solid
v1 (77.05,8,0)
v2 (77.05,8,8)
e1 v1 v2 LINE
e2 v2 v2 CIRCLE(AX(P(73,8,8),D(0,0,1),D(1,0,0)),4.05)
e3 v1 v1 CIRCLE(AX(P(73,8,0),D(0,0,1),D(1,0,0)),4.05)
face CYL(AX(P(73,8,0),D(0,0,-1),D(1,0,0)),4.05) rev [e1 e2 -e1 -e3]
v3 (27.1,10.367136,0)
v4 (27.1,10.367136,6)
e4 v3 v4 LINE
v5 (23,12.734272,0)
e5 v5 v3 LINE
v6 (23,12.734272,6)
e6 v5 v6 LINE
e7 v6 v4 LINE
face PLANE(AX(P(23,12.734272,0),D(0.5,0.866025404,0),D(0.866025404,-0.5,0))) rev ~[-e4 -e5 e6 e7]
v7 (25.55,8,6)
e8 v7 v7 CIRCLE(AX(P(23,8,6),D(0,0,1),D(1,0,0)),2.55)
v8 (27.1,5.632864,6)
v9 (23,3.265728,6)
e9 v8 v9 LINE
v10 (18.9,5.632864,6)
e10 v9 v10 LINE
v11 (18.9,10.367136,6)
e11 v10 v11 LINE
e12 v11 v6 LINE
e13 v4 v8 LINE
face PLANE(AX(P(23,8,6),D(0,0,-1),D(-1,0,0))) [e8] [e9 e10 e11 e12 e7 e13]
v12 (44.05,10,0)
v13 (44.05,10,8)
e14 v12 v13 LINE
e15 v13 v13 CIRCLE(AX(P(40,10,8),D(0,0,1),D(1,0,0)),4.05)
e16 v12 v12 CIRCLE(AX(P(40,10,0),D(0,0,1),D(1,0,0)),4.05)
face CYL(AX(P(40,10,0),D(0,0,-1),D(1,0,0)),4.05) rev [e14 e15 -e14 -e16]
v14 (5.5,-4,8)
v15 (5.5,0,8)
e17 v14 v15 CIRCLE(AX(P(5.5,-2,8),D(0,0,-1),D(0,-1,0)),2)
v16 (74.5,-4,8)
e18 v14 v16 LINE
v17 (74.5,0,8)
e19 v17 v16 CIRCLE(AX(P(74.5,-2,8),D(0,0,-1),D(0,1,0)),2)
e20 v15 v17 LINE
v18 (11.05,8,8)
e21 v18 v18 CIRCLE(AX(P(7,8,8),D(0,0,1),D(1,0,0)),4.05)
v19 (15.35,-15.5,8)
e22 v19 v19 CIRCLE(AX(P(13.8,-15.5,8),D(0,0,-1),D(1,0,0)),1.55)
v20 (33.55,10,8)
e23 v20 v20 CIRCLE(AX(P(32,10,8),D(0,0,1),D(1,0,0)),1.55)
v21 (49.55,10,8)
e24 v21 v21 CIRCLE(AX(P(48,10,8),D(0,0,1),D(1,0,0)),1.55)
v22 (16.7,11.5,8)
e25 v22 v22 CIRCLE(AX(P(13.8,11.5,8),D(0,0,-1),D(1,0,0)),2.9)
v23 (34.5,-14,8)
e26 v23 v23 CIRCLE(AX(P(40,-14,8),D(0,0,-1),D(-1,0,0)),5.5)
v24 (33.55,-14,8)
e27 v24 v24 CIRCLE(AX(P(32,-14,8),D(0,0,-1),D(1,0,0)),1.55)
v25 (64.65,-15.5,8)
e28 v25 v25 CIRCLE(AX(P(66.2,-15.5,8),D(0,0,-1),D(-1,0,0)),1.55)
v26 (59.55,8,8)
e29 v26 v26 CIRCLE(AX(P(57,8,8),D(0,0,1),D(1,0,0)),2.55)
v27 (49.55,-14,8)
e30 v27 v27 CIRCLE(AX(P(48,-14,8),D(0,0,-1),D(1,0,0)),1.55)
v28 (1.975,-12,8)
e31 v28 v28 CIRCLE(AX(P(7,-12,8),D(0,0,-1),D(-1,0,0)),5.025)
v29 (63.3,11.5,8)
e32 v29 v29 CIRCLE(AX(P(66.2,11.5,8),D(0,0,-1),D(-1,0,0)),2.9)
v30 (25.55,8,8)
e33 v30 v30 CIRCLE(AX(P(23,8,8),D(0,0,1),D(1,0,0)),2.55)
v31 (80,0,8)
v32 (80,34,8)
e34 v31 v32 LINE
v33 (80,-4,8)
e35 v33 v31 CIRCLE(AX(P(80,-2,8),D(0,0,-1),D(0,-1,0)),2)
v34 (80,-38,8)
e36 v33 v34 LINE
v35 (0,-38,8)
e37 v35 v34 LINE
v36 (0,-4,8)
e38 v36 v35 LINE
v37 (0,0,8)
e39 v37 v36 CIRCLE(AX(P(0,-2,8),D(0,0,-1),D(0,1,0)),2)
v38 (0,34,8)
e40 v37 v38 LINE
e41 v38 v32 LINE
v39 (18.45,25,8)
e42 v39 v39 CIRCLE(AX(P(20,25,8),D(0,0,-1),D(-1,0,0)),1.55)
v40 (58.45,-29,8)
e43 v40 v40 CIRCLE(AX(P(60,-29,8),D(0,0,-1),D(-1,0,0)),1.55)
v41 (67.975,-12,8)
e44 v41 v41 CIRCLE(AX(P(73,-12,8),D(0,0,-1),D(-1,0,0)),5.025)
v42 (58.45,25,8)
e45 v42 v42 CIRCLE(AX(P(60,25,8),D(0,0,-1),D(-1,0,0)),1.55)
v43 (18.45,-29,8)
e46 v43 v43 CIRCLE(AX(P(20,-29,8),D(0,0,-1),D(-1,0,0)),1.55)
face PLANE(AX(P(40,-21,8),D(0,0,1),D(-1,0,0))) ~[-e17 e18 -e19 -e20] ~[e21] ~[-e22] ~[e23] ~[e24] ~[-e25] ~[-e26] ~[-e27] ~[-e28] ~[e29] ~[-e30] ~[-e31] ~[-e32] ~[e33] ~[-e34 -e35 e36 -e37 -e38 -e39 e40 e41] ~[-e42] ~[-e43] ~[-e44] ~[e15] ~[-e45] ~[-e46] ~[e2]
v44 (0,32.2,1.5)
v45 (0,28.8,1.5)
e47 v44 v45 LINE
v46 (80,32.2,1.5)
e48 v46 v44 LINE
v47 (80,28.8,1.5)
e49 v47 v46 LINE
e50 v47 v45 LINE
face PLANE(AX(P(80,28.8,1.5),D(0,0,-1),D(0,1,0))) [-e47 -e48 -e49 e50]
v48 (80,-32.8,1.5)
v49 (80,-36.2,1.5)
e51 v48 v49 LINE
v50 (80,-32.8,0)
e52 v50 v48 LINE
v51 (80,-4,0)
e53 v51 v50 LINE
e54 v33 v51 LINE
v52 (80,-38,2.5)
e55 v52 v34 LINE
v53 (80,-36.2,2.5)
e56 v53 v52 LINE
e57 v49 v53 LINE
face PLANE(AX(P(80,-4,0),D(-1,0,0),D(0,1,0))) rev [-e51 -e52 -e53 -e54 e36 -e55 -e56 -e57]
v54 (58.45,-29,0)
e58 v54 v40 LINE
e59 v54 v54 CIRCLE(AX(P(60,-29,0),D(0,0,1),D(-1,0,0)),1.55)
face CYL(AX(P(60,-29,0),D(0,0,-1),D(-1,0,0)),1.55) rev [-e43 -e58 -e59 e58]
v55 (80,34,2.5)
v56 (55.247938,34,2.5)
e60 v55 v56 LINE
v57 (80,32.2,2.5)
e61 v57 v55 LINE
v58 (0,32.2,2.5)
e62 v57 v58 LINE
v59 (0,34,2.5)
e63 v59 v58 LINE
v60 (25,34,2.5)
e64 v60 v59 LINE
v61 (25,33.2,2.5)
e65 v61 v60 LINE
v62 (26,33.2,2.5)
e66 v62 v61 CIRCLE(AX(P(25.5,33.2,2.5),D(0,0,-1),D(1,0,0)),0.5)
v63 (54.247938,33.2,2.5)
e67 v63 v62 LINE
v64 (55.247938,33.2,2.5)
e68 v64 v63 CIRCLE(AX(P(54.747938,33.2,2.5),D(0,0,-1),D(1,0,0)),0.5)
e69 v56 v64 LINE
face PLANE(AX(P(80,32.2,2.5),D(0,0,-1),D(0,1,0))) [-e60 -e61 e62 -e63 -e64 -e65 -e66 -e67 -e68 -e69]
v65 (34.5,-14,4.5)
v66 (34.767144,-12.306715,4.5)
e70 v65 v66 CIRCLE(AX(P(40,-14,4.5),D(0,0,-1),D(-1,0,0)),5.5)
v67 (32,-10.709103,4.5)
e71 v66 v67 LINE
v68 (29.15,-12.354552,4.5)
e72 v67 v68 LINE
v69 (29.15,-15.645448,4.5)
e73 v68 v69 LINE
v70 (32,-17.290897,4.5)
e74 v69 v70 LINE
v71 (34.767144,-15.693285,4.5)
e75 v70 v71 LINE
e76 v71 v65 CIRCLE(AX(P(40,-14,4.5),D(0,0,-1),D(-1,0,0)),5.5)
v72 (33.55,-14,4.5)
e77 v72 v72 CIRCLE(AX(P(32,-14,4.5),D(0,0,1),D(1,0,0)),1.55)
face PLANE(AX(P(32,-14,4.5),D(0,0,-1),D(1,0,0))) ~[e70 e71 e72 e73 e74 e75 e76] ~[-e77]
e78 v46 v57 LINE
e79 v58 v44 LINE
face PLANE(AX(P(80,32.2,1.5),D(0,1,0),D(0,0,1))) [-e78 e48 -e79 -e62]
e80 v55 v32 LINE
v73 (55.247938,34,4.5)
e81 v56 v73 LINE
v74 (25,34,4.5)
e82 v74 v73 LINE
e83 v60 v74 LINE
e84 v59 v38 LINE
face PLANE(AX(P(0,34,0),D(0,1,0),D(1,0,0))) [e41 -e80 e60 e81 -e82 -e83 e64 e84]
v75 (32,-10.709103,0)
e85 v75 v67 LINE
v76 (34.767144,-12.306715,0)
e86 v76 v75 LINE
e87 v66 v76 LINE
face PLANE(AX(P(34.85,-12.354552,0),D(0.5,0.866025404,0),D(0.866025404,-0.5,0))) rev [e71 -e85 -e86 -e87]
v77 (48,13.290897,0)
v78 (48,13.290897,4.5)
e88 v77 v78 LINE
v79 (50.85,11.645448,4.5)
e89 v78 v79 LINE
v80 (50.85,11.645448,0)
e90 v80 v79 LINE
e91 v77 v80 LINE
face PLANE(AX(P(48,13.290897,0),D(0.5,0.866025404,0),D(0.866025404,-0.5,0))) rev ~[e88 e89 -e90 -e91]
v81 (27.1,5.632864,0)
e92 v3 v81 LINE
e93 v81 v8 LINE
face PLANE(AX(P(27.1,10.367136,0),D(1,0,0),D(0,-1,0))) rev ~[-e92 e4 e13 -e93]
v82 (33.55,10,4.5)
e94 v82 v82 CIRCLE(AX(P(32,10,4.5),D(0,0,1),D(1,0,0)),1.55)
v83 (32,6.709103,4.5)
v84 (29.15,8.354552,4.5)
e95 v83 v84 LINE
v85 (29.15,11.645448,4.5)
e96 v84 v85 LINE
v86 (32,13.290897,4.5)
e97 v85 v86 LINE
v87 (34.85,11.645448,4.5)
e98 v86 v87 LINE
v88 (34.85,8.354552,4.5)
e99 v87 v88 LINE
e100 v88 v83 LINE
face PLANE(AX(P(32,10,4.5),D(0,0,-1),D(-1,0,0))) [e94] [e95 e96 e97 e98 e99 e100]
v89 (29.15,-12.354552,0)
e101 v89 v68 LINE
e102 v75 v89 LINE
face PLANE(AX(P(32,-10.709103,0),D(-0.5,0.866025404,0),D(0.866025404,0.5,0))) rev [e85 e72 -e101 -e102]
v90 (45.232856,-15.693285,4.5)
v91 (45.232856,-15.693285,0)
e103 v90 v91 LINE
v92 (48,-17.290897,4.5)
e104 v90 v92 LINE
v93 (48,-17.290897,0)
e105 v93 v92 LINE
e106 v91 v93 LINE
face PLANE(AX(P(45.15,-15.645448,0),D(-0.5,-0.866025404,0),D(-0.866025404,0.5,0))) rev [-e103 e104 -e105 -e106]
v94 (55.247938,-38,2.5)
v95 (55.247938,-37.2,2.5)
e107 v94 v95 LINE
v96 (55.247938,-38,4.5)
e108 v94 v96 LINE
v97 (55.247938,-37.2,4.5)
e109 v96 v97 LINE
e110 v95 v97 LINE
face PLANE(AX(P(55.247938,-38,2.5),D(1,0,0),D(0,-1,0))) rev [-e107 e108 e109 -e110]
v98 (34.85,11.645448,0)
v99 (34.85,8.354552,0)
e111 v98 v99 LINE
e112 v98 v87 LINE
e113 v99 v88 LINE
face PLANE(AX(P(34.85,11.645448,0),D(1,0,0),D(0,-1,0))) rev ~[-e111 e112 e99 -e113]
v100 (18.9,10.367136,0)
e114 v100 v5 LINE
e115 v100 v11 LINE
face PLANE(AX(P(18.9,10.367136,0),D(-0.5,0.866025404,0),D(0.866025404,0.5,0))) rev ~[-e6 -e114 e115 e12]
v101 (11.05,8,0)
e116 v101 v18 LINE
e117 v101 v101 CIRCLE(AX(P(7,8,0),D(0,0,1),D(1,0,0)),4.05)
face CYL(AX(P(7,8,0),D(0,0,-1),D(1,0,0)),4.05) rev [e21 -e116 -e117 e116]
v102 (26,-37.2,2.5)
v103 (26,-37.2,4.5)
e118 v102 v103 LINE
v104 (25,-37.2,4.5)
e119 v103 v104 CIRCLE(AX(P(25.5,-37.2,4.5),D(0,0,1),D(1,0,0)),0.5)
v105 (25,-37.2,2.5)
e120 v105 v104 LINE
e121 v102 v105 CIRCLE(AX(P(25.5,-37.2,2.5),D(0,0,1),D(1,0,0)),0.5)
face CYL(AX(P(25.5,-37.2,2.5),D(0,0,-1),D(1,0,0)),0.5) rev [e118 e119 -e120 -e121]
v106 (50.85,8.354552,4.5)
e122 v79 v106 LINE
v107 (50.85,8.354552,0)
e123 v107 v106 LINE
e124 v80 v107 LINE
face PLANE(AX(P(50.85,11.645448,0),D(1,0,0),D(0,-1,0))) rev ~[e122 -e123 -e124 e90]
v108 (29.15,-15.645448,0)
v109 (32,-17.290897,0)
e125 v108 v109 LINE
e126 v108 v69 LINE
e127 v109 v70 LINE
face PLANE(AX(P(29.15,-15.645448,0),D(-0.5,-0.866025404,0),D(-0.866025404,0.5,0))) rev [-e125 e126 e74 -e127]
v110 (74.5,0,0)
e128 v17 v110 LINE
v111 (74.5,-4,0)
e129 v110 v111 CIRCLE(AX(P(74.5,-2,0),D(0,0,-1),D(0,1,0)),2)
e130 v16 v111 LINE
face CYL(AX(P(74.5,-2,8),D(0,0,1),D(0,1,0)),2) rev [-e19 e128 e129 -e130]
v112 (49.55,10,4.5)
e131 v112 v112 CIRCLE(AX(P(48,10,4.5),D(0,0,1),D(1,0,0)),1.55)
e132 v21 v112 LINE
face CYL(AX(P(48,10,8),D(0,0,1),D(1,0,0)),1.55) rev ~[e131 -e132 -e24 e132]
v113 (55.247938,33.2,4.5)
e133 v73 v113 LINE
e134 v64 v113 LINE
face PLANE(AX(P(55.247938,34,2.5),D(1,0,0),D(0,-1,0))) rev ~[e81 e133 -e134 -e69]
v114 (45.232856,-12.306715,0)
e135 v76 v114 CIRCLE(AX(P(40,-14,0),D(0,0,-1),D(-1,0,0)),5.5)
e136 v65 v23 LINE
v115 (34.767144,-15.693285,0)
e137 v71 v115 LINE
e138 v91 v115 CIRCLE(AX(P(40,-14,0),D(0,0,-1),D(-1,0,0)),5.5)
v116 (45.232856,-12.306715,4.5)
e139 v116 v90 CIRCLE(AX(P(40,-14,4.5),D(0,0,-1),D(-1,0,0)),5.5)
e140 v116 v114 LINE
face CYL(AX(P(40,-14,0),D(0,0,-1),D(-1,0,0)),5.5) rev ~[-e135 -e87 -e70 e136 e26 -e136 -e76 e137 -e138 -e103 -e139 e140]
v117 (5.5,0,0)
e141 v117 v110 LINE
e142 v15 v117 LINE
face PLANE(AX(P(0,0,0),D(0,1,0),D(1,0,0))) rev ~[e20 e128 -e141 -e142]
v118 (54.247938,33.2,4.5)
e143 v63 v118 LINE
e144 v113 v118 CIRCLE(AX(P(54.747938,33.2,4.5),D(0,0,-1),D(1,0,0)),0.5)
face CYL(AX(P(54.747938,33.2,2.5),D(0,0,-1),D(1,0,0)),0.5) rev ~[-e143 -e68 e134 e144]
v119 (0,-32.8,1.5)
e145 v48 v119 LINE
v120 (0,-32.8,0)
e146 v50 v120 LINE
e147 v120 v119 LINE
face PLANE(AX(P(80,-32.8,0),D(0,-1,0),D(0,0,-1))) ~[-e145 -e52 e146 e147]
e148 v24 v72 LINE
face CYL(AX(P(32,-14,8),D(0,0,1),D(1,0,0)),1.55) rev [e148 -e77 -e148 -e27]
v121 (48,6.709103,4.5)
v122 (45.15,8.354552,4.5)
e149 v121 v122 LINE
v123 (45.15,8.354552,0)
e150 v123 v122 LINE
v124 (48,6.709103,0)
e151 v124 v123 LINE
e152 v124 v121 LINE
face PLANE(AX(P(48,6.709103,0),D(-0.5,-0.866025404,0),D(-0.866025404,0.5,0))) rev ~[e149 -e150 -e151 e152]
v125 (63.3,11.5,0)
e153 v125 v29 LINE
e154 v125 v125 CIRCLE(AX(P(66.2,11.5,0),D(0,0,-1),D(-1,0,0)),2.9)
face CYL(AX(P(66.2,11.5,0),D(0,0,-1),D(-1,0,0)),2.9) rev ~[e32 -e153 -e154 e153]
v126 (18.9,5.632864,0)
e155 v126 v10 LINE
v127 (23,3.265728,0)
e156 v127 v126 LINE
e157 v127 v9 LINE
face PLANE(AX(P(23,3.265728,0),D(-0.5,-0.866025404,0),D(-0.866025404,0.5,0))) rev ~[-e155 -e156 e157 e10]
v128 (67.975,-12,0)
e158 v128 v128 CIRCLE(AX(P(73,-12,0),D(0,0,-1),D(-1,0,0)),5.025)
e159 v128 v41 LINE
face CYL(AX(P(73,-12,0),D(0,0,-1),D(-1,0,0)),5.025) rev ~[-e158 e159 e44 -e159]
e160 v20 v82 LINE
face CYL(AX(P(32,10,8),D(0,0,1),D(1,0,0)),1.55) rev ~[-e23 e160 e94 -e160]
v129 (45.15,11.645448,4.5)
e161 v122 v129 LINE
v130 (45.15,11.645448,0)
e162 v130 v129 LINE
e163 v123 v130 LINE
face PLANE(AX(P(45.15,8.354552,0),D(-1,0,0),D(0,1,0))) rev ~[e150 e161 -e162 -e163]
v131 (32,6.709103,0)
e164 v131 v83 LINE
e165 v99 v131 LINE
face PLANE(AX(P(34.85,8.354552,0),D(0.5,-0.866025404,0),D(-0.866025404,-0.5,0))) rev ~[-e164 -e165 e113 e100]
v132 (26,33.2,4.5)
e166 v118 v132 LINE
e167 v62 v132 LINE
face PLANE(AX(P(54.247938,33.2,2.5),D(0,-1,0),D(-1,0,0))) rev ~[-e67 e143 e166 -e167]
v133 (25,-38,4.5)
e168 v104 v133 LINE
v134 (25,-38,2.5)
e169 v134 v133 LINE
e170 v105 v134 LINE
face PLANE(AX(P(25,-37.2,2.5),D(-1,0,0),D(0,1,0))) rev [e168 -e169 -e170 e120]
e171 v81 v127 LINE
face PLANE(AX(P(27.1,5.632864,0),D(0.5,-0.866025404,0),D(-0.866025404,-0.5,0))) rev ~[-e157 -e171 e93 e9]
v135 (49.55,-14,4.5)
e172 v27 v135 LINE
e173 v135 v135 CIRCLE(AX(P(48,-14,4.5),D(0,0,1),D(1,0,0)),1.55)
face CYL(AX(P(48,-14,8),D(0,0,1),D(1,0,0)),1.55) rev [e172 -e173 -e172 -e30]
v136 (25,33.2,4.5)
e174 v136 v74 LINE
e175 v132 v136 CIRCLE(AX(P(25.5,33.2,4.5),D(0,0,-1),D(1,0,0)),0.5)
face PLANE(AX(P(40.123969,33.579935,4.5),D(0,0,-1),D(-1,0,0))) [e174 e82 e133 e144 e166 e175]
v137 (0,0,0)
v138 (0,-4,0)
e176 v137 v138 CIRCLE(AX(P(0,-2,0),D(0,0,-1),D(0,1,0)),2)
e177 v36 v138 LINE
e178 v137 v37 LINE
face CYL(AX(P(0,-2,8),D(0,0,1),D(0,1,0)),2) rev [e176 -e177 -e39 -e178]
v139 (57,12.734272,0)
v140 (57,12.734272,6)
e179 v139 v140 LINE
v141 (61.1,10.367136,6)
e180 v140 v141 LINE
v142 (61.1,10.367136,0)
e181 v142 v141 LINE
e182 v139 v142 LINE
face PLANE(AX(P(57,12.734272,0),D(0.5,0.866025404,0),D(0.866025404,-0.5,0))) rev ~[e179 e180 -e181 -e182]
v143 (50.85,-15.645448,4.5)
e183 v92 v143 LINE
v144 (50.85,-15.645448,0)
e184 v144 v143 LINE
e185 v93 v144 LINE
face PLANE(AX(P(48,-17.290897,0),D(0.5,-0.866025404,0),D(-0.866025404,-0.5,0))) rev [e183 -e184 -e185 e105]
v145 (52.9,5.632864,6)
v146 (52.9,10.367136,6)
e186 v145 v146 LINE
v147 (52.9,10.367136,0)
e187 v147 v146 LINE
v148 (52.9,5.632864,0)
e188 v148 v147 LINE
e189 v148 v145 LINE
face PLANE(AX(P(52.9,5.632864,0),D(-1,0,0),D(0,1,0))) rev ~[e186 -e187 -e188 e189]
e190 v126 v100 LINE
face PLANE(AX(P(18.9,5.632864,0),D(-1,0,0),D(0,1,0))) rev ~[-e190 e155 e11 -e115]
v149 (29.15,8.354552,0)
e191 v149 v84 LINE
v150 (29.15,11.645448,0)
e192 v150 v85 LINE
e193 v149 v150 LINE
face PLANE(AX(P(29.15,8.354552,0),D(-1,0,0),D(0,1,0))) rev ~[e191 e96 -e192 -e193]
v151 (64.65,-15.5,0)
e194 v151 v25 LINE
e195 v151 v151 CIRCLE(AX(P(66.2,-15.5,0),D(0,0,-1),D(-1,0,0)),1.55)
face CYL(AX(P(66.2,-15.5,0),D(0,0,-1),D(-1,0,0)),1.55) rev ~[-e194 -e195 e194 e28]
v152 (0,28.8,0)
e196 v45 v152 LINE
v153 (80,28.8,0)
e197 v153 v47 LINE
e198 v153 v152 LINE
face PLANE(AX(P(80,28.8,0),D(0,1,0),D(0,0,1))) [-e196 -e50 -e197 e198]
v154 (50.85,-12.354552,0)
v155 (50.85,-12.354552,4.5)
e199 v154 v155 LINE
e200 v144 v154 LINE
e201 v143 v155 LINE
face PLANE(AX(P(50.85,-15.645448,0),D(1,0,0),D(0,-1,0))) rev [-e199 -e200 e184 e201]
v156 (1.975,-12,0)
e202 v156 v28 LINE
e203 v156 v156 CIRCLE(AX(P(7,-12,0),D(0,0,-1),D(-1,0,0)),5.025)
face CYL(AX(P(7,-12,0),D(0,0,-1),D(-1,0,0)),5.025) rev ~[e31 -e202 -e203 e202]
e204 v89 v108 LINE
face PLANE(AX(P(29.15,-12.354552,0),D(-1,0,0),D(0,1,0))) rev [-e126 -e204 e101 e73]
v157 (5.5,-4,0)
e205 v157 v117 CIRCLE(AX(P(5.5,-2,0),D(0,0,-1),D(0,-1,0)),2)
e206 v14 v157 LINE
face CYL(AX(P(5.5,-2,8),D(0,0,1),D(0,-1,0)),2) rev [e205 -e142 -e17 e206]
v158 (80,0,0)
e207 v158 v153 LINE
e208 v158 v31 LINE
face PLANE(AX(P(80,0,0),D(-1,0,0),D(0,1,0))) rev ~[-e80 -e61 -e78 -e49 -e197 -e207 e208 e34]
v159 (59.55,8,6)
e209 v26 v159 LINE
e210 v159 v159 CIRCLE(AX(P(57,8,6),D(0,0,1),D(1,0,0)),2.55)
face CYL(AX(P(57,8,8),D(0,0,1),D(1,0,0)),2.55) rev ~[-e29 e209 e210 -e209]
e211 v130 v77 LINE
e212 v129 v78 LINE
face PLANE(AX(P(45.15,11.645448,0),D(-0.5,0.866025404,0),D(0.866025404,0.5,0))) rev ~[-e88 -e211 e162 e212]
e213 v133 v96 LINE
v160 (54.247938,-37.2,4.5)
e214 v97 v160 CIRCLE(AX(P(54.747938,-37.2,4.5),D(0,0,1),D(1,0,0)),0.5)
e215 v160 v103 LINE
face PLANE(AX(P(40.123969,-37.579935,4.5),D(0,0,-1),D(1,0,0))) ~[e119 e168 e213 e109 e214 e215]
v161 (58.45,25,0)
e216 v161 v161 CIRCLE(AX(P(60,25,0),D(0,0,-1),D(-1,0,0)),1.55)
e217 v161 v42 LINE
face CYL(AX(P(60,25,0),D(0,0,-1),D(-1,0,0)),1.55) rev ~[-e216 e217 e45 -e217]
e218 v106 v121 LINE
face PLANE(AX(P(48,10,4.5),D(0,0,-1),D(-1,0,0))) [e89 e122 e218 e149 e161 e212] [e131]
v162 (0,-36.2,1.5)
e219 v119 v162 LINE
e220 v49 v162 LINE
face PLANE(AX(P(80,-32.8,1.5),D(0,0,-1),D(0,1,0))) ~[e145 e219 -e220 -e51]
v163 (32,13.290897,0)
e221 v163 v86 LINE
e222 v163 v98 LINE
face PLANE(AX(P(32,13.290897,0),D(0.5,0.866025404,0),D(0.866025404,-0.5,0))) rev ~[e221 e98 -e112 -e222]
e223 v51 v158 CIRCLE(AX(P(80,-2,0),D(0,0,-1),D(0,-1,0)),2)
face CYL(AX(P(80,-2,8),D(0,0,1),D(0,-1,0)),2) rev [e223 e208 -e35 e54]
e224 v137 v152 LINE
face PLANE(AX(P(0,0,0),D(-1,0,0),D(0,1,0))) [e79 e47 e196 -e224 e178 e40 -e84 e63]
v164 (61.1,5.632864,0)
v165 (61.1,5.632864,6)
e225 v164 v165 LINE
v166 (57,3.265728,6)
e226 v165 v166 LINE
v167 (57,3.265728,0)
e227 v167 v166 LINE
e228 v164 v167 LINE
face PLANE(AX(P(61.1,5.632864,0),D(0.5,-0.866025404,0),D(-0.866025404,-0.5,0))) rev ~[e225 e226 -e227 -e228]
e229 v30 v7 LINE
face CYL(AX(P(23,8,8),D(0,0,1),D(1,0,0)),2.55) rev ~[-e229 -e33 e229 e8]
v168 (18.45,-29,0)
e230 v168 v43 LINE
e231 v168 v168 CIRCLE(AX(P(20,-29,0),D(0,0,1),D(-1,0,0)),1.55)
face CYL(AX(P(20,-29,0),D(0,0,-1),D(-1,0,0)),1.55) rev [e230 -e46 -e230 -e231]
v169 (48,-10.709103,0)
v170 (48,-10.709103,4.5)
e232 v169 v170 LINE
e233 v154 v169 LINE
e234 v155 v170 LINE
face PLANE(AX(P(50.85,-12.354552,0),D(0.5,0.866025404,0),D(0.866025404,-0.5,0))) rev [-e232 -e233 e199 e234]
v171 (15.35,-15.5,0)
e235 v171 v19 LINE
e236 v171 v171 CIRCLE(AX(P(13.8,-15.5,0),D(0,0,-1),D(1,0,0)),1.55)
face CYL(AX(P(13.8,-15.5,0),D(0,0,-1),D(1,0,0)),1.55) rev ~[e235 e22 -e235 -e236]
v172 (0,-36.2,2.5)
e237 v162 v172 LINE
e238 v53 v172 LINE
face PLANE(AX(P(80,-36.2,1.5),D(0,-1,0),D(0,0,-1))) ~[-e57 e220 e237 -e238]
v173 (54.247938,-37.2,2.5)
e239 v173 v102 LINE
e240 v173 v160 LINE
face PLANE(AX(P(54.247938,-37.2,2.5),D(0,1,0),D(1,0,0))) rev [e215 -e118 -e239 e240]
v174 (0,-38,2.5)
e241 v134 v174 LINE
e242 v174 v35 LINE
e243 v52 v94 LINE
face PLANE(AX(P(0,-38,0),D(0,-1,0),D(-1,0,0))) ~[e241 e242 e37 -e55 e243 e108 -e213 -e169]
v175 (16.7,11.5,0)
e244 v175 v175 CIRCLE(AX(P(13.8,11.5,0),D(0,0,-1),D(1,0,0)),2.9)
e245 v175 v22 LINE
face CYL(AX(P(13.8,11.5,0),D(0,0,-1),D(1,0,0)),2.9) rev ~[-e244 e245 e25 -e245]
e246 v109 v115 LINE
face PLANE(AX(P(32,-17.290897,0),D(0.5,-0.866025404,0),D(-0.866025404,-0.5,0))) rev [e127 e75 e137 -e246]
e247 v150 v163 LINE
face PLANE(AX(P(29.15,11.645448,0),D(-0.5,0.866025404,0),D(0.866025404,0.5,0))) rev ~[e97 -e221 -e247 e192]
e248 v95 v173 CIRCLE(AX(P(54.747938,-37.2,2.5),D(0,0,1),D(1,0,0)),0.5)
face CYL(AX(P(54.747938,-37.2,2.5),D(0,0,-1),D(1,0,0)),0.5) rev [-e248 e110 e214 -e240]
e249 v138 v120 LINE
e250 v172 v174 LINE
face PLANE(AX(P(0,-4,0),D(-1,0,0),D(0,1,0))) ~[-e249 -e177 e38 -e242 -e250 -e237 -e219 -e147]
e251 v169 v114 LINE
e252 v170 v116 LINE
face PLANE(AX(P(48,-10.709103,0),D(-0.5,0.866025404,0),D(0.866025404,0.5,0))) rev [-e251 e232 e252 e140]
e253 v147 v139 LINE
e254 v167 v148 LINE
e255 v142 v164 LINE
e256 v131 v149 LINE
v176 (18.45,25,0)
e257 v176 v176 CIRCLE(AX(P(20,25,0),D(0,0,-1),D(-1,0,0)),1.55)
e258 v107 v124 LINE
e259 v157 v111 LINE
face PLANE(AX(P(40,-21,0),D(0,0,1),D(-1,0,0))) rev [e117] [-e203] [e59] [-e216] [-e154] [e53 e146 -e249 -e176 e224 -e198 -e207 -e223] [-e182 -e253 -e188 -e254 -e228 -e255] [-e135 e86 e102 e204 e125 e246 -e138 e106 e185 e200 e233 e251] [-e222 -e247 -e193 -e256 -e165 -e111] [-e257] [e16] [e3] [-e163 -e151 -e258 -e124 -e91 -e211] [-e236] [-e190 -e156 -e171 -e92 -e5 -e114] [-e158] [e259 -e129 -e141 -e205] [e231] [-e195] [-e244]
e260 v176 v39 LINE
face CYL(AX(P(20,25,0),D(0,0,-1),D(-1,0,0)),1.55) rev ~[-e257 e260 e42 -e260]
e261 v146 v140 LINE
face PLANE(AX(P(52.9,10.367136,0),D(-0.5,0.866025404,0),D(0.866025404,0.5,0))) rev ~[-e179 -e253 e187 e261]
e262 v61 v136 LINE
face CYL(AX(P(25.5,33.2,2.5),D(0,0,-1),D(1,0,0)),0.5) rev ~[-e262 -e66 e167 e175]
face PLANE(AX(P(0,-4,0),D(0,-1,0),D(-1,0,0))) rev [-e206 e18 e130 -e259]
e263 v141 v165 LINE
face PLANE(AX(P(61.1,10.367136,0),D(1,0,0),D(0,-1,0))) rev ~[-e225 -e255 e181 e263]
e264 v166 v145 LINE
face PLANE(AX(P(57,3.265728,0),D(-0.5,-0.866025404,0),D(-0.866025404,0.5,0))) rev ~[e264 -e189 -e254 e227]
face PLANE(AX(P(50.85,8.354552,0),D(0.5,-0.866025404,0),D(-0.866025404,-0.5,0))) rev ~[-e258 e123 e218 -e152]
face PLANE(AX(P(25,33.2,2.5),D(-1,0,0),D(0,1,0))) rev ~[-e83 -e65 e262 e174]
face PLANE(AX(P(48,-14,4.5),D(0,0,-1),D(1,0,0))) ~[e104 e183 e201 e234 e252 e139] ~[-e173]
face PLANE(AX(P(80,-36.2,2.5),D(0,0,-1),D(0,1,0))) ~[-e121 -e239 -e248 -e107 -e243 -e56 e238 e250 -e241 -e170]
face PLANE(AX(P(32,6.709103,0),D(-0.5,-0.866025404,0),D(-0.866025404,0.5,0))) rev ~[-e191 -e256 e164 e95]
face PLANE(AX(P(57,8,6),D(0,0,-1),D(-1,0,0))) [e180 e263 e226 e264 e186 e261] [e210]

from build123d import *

# Parameters (mm, degrees)
SKETCH_2_W           = 80
SKETCH_2_H           = 34
SKETCH_2_R           = 4.05
EXTRUDE_1_DEPTH      = 8
SKETCH_3_R           = 2.55
CUT_EXTRUDE_1_DEPTH  = 88.292611371
CUT_EXTRUDE_2_DEPTH  = 88.292611371
SKETCH_5_R           = 1.55
CUT_EXTRUDE_3_DEPTH  = 88.292611371
CUT_EXTRUDE_5_DEPTH  = 4.5
SKETCH_25_R          = 1.55
CUT_EXTRUDE_13_DEPTH = 88.292611371
CUT_EXTRUDE_11_DEPTH = 2
EXTRUDE_2_DEPTH      = 8
SKETCH_26_R          = 5.025
CUT_EXTRUDE_14_DEPTH = 89.926936302
SKETCH_27_R          = 2.9
SKETCH_27_R_2        = 1.55
CUT_EXTRUDE_15_DEPTH = 89.926936302
CUT_EXTRUDE_16_DEPTH = 6
SKETCH_29_R          = 5.5
CUT_EXTRUDE_17_DEPTH = 89.926936302


with BuildPart() as part:
    # 草图2 → 凸台-拉伸1 (new body)
    with BuildSketch(Plane.XY):
        with Locations((40, 17)):
            Rectangle(SKETCH_2_W, SKETCH_2_H)
        with Locations((7, 8)):
            Circle(SKETCH_2_R, mode=Mode.SUBTRACT)
        with Locations((40, 10)):
            Circle(SKETCH_2_R, mode=Mode.SUBTRACT)
        with Locations((73, 8)):
            Circle(SKETCH_2_R, mode=Mode.SUBTRACT)
    extrude_1 = extrude(amount=EXTRUDE_1_DEPTH)

    # 草图3 → 切除-拉伸1 (cut, through all)
    with BuildSketch(Plane.XY.offset(8)):
        with Locations((23, 8)):
            Circle(SKETCH_3_R)
        with Locations((57, 8)):
            Circle(SKETCH_3_R)
    extrude(amount=-CUT_EXTRUDE_1_DEPTH, mode=Mode.SUBTRACT)

    # 草图4 → 切除-拉伸2 (cut, through all)
    with BuildSketch(Plane(origin=(80, 0, 0), x_dir=(0, 0, -1), z_dir=(1, 0, 0))):
        Polygon((-1.5, 32.2), (-2.5, 32.2), (-2.5, 34), (0, 34), (0, 28.8), (-1.5, 28.8), align=None)
    cut_extrude_2 = extrude(amount=-CUT_EXTRUDE_2_DEPTH, mode=Mode.SUBTRACT)

    # 草图5 → 切除-拉伸3 (cut, through all)
    with BuildSketch(Plane.XY.offset(8)):
        with Locations((48, 10)):
            Circle(SKETCH_5_R)
        with Locations((32, 10)):
            Circle(SKETCH_5_R)
    cut_extrude_3 = extrude(amount=-CUT_EXTRUDE_3_DEPTH, mode=Mode.SUBTRACT)

    # 草图8 → 切除-拉伸5 (cut)
    with BuildSketch(Plane(origin=(0, 0, 0), x_dir=(-1, 0, 0), z_dir=(0, 0, -1))):
        Polygon((-45.15, 8.354551733), (-45.15, 11.645448267), (-48, 13.290896534), (-50.85, 11.645448267), (-50.85, 8.354551733), (-48, 6.709103466), align=None)
        Polygon((-29.15, 8.354551733), (-29.15, 11.645448267), (-32, 13.290896534), (-34.85, 11.645448267), (-34.85, 8.354551733), (-32, 6.709103466), align=None)
    cut_extrude_5 = extrude(amount=-CUT_EXTRUDE_5_DEPTH, mode=Mode.SUBTRACT)

    # 草图25 → 切除-拉伸13 (cut, through all)
    with BuildSketch(Plane(origin=(0, 0, 0), x_dir=(-1, 0, 0), z_dir=(0, 0, -1))):
        with Locations((-60, 25)):
            Circle(SKETCH_25_R)
        with Locations((-20, 25)):
            Circle(SKETCH_25_R)
    cut_extrude_13 = extrude(amount=-CUT_EXTRUDE_13_DEPTH, mode=Mode.SUBTRACT)

    # 草图19 → 切除-拉伸11 (cut)
    with BuildSketch(Plane(origin=(0, 0, 2.5), x_dir=(-1, 0, 0), z_dir=(0, 0, -1))):
        with BuildLine():
            Line((-25, 34), (-55.247938178, 34))
            Line((-55.247938178, 34), (-55.247938178, 33.2))
            ThreePointArc((-55.247938178, 33.2), (-54.747938178, 32.7), (-54.247938178, 33.2))
            Line((-54.247938178, 33.2), (-26, 33.2))
            ThreePointArc((-26, 33.2), (-25.5, 32.7), (-25, 33.2))
            Line((-25, 33.2), (-25, 34))
        make_face()
    cut_extrude_11 = extrude(amount=-CUT_EXTRUDE_11_DEPTH, mode=Mode.SUBTRACT)

    # 草图22 → 凸台-拉伸2 (add)
    with BuildSketch(Plane.XY.offset(8)):
        with BuildLine():
            Line((0, -4), (5.5, -4))
            ThreePointArc((5.5, -4), (3.5, -2), (5.5, 0))
            Line((5.5, 0), (0, 0))
            ThreePointArc((0, 0), (2, -2), (0, -4))
        make_face()
        with BuildLine():
            Line((80, 0), (74.5, 0))
            ThreePointArc((74.5, 0), (76.5, -2), (74.5, -4))
            Line((74.5, -4), (80, -4))
            ThreePointArc((80, -4), (78, -2), (80, 0))
        make_face()
    extrude(amount=-EXTRUDE_2_DEPTH)

    # 镜向2: 凸台-拉伸1, 切除-拉伸2, 切除-拉伸3, 切除-拉伸5, 切除-拉伸13, 切除-拉伸11 across plane
    add(extrude_1.mirror(Plane(origin=(0, -2, 0), x_dir=(0, 0, 1), z_dir=(0, -1, 0))))
    add(cut_extrude_2.mirror(Plane(origin=(0, -2, 0), x_dir=(0, 0, 1), z_dir=(0, -1, 0))), mode=Mode.SUBTRACT)
    add(cut_extrude_3.mirror(Plane(origin=(0, -2, 0), x_dir=(0, 0, 1), z_dir=(0, -1, 0))), mode=Mode.SUBTRACT)
    add(cut_extrude_5.mirror(Plane(origin=(0, -2, 0), x_dir=(0, 0, 1), z_dir=(0, -1, 0))), mode=Mode.SUBTRACT)
    add(cut_extrude_13.mirror(Plane(origin=(0, -2, 0), x_dir=(0, 0, 1), z_dir=(0, -1, 0))), mode=Mode.SUBTRACT)
    add(cut_extrude_11.mirror(Plane(origin=(0, -2, 0), x_dir=(0, 0, 1), z_dir=(0, -1, 0))), mode=Mode.SUBTRACT)

    # 草图26 → 切除-拉伸14 (cut, through all)
    with BuildSketch(Plane(origin=(0, 0, 0), x_dir=(-1, 0, 0), z_dir=(0, 0, -1))):
        with Locations((-73, -12)):
            Circle(SKETCH_26_R)
        with Locations((-7, -12)):
            Circle(SKETCH_26_R)
    extrude(amount=-CUT_EXTRUDE_14_DEPTH, mode=Mode.SUBTRACT)

    # 草图27 → 切除-拉伸15 (cut, through all)
    with BuildSketch(Plane(origin=(0, 0, 0), x_dir=(-1, 0, 0), z_dir=(0, 0, -1))):
        with Locations((-66.2, 11.5)):
            Circle(SKETCH_27_R)
        with Locations((-66.2, -15.5)):
            Circle(SKETCH_27_R_2)
        with Locations((-13.8, -15.5)):
            Circle(SKETCH_27_R_2)
        with Locations((-13.8, 11.5)):
            Circle(SKETCH_27_R)
    extrude(amount=-CUT_EXTRUDE_15_DEPTH, mode=Mode.SUBTRACT)

    # 草图28 → 切除-拉伸16 (cut)
    with BuildSketch(Plane(origin=(0, 0, 0), x_dir=(-1, 0, 0), z_dir=(0, 0, -1))):
        Polygon((-52.9, 5.632863896), (-52.9, 10.367136104), (-57, 12.734272207), (-61.1, 10.367136104), (-61.1, 5.632863896), (-57, 3.265727793), align=None)
        Polygon((-18.9, 5.632863896), (-18.9, 10.367136104), (-23, 12.734272207), (-27.1, 10.367136104), (-27.1, 5.632863896), (-23, 3.265727793), align=None)
    extrude(amount=-CUT_EXTRUDE_16_DEPTH, mode=Mode.SUBTRACT)

    # 草图29 → 切除-拉伸17 (cut, through all)
    with BuildSketch(Plane(origin=(0, 0, 0), x_dir=(-1, 0, 0), z_dir=(0, 0, -1))):
        with Locations((-40, -14)):
            Circle(SKETCH_29_R)
    extrude(amount=-CUT_EXTRUDE_17_DEPTH, mode=Mode.SUBTRACT)


solid = part.part
